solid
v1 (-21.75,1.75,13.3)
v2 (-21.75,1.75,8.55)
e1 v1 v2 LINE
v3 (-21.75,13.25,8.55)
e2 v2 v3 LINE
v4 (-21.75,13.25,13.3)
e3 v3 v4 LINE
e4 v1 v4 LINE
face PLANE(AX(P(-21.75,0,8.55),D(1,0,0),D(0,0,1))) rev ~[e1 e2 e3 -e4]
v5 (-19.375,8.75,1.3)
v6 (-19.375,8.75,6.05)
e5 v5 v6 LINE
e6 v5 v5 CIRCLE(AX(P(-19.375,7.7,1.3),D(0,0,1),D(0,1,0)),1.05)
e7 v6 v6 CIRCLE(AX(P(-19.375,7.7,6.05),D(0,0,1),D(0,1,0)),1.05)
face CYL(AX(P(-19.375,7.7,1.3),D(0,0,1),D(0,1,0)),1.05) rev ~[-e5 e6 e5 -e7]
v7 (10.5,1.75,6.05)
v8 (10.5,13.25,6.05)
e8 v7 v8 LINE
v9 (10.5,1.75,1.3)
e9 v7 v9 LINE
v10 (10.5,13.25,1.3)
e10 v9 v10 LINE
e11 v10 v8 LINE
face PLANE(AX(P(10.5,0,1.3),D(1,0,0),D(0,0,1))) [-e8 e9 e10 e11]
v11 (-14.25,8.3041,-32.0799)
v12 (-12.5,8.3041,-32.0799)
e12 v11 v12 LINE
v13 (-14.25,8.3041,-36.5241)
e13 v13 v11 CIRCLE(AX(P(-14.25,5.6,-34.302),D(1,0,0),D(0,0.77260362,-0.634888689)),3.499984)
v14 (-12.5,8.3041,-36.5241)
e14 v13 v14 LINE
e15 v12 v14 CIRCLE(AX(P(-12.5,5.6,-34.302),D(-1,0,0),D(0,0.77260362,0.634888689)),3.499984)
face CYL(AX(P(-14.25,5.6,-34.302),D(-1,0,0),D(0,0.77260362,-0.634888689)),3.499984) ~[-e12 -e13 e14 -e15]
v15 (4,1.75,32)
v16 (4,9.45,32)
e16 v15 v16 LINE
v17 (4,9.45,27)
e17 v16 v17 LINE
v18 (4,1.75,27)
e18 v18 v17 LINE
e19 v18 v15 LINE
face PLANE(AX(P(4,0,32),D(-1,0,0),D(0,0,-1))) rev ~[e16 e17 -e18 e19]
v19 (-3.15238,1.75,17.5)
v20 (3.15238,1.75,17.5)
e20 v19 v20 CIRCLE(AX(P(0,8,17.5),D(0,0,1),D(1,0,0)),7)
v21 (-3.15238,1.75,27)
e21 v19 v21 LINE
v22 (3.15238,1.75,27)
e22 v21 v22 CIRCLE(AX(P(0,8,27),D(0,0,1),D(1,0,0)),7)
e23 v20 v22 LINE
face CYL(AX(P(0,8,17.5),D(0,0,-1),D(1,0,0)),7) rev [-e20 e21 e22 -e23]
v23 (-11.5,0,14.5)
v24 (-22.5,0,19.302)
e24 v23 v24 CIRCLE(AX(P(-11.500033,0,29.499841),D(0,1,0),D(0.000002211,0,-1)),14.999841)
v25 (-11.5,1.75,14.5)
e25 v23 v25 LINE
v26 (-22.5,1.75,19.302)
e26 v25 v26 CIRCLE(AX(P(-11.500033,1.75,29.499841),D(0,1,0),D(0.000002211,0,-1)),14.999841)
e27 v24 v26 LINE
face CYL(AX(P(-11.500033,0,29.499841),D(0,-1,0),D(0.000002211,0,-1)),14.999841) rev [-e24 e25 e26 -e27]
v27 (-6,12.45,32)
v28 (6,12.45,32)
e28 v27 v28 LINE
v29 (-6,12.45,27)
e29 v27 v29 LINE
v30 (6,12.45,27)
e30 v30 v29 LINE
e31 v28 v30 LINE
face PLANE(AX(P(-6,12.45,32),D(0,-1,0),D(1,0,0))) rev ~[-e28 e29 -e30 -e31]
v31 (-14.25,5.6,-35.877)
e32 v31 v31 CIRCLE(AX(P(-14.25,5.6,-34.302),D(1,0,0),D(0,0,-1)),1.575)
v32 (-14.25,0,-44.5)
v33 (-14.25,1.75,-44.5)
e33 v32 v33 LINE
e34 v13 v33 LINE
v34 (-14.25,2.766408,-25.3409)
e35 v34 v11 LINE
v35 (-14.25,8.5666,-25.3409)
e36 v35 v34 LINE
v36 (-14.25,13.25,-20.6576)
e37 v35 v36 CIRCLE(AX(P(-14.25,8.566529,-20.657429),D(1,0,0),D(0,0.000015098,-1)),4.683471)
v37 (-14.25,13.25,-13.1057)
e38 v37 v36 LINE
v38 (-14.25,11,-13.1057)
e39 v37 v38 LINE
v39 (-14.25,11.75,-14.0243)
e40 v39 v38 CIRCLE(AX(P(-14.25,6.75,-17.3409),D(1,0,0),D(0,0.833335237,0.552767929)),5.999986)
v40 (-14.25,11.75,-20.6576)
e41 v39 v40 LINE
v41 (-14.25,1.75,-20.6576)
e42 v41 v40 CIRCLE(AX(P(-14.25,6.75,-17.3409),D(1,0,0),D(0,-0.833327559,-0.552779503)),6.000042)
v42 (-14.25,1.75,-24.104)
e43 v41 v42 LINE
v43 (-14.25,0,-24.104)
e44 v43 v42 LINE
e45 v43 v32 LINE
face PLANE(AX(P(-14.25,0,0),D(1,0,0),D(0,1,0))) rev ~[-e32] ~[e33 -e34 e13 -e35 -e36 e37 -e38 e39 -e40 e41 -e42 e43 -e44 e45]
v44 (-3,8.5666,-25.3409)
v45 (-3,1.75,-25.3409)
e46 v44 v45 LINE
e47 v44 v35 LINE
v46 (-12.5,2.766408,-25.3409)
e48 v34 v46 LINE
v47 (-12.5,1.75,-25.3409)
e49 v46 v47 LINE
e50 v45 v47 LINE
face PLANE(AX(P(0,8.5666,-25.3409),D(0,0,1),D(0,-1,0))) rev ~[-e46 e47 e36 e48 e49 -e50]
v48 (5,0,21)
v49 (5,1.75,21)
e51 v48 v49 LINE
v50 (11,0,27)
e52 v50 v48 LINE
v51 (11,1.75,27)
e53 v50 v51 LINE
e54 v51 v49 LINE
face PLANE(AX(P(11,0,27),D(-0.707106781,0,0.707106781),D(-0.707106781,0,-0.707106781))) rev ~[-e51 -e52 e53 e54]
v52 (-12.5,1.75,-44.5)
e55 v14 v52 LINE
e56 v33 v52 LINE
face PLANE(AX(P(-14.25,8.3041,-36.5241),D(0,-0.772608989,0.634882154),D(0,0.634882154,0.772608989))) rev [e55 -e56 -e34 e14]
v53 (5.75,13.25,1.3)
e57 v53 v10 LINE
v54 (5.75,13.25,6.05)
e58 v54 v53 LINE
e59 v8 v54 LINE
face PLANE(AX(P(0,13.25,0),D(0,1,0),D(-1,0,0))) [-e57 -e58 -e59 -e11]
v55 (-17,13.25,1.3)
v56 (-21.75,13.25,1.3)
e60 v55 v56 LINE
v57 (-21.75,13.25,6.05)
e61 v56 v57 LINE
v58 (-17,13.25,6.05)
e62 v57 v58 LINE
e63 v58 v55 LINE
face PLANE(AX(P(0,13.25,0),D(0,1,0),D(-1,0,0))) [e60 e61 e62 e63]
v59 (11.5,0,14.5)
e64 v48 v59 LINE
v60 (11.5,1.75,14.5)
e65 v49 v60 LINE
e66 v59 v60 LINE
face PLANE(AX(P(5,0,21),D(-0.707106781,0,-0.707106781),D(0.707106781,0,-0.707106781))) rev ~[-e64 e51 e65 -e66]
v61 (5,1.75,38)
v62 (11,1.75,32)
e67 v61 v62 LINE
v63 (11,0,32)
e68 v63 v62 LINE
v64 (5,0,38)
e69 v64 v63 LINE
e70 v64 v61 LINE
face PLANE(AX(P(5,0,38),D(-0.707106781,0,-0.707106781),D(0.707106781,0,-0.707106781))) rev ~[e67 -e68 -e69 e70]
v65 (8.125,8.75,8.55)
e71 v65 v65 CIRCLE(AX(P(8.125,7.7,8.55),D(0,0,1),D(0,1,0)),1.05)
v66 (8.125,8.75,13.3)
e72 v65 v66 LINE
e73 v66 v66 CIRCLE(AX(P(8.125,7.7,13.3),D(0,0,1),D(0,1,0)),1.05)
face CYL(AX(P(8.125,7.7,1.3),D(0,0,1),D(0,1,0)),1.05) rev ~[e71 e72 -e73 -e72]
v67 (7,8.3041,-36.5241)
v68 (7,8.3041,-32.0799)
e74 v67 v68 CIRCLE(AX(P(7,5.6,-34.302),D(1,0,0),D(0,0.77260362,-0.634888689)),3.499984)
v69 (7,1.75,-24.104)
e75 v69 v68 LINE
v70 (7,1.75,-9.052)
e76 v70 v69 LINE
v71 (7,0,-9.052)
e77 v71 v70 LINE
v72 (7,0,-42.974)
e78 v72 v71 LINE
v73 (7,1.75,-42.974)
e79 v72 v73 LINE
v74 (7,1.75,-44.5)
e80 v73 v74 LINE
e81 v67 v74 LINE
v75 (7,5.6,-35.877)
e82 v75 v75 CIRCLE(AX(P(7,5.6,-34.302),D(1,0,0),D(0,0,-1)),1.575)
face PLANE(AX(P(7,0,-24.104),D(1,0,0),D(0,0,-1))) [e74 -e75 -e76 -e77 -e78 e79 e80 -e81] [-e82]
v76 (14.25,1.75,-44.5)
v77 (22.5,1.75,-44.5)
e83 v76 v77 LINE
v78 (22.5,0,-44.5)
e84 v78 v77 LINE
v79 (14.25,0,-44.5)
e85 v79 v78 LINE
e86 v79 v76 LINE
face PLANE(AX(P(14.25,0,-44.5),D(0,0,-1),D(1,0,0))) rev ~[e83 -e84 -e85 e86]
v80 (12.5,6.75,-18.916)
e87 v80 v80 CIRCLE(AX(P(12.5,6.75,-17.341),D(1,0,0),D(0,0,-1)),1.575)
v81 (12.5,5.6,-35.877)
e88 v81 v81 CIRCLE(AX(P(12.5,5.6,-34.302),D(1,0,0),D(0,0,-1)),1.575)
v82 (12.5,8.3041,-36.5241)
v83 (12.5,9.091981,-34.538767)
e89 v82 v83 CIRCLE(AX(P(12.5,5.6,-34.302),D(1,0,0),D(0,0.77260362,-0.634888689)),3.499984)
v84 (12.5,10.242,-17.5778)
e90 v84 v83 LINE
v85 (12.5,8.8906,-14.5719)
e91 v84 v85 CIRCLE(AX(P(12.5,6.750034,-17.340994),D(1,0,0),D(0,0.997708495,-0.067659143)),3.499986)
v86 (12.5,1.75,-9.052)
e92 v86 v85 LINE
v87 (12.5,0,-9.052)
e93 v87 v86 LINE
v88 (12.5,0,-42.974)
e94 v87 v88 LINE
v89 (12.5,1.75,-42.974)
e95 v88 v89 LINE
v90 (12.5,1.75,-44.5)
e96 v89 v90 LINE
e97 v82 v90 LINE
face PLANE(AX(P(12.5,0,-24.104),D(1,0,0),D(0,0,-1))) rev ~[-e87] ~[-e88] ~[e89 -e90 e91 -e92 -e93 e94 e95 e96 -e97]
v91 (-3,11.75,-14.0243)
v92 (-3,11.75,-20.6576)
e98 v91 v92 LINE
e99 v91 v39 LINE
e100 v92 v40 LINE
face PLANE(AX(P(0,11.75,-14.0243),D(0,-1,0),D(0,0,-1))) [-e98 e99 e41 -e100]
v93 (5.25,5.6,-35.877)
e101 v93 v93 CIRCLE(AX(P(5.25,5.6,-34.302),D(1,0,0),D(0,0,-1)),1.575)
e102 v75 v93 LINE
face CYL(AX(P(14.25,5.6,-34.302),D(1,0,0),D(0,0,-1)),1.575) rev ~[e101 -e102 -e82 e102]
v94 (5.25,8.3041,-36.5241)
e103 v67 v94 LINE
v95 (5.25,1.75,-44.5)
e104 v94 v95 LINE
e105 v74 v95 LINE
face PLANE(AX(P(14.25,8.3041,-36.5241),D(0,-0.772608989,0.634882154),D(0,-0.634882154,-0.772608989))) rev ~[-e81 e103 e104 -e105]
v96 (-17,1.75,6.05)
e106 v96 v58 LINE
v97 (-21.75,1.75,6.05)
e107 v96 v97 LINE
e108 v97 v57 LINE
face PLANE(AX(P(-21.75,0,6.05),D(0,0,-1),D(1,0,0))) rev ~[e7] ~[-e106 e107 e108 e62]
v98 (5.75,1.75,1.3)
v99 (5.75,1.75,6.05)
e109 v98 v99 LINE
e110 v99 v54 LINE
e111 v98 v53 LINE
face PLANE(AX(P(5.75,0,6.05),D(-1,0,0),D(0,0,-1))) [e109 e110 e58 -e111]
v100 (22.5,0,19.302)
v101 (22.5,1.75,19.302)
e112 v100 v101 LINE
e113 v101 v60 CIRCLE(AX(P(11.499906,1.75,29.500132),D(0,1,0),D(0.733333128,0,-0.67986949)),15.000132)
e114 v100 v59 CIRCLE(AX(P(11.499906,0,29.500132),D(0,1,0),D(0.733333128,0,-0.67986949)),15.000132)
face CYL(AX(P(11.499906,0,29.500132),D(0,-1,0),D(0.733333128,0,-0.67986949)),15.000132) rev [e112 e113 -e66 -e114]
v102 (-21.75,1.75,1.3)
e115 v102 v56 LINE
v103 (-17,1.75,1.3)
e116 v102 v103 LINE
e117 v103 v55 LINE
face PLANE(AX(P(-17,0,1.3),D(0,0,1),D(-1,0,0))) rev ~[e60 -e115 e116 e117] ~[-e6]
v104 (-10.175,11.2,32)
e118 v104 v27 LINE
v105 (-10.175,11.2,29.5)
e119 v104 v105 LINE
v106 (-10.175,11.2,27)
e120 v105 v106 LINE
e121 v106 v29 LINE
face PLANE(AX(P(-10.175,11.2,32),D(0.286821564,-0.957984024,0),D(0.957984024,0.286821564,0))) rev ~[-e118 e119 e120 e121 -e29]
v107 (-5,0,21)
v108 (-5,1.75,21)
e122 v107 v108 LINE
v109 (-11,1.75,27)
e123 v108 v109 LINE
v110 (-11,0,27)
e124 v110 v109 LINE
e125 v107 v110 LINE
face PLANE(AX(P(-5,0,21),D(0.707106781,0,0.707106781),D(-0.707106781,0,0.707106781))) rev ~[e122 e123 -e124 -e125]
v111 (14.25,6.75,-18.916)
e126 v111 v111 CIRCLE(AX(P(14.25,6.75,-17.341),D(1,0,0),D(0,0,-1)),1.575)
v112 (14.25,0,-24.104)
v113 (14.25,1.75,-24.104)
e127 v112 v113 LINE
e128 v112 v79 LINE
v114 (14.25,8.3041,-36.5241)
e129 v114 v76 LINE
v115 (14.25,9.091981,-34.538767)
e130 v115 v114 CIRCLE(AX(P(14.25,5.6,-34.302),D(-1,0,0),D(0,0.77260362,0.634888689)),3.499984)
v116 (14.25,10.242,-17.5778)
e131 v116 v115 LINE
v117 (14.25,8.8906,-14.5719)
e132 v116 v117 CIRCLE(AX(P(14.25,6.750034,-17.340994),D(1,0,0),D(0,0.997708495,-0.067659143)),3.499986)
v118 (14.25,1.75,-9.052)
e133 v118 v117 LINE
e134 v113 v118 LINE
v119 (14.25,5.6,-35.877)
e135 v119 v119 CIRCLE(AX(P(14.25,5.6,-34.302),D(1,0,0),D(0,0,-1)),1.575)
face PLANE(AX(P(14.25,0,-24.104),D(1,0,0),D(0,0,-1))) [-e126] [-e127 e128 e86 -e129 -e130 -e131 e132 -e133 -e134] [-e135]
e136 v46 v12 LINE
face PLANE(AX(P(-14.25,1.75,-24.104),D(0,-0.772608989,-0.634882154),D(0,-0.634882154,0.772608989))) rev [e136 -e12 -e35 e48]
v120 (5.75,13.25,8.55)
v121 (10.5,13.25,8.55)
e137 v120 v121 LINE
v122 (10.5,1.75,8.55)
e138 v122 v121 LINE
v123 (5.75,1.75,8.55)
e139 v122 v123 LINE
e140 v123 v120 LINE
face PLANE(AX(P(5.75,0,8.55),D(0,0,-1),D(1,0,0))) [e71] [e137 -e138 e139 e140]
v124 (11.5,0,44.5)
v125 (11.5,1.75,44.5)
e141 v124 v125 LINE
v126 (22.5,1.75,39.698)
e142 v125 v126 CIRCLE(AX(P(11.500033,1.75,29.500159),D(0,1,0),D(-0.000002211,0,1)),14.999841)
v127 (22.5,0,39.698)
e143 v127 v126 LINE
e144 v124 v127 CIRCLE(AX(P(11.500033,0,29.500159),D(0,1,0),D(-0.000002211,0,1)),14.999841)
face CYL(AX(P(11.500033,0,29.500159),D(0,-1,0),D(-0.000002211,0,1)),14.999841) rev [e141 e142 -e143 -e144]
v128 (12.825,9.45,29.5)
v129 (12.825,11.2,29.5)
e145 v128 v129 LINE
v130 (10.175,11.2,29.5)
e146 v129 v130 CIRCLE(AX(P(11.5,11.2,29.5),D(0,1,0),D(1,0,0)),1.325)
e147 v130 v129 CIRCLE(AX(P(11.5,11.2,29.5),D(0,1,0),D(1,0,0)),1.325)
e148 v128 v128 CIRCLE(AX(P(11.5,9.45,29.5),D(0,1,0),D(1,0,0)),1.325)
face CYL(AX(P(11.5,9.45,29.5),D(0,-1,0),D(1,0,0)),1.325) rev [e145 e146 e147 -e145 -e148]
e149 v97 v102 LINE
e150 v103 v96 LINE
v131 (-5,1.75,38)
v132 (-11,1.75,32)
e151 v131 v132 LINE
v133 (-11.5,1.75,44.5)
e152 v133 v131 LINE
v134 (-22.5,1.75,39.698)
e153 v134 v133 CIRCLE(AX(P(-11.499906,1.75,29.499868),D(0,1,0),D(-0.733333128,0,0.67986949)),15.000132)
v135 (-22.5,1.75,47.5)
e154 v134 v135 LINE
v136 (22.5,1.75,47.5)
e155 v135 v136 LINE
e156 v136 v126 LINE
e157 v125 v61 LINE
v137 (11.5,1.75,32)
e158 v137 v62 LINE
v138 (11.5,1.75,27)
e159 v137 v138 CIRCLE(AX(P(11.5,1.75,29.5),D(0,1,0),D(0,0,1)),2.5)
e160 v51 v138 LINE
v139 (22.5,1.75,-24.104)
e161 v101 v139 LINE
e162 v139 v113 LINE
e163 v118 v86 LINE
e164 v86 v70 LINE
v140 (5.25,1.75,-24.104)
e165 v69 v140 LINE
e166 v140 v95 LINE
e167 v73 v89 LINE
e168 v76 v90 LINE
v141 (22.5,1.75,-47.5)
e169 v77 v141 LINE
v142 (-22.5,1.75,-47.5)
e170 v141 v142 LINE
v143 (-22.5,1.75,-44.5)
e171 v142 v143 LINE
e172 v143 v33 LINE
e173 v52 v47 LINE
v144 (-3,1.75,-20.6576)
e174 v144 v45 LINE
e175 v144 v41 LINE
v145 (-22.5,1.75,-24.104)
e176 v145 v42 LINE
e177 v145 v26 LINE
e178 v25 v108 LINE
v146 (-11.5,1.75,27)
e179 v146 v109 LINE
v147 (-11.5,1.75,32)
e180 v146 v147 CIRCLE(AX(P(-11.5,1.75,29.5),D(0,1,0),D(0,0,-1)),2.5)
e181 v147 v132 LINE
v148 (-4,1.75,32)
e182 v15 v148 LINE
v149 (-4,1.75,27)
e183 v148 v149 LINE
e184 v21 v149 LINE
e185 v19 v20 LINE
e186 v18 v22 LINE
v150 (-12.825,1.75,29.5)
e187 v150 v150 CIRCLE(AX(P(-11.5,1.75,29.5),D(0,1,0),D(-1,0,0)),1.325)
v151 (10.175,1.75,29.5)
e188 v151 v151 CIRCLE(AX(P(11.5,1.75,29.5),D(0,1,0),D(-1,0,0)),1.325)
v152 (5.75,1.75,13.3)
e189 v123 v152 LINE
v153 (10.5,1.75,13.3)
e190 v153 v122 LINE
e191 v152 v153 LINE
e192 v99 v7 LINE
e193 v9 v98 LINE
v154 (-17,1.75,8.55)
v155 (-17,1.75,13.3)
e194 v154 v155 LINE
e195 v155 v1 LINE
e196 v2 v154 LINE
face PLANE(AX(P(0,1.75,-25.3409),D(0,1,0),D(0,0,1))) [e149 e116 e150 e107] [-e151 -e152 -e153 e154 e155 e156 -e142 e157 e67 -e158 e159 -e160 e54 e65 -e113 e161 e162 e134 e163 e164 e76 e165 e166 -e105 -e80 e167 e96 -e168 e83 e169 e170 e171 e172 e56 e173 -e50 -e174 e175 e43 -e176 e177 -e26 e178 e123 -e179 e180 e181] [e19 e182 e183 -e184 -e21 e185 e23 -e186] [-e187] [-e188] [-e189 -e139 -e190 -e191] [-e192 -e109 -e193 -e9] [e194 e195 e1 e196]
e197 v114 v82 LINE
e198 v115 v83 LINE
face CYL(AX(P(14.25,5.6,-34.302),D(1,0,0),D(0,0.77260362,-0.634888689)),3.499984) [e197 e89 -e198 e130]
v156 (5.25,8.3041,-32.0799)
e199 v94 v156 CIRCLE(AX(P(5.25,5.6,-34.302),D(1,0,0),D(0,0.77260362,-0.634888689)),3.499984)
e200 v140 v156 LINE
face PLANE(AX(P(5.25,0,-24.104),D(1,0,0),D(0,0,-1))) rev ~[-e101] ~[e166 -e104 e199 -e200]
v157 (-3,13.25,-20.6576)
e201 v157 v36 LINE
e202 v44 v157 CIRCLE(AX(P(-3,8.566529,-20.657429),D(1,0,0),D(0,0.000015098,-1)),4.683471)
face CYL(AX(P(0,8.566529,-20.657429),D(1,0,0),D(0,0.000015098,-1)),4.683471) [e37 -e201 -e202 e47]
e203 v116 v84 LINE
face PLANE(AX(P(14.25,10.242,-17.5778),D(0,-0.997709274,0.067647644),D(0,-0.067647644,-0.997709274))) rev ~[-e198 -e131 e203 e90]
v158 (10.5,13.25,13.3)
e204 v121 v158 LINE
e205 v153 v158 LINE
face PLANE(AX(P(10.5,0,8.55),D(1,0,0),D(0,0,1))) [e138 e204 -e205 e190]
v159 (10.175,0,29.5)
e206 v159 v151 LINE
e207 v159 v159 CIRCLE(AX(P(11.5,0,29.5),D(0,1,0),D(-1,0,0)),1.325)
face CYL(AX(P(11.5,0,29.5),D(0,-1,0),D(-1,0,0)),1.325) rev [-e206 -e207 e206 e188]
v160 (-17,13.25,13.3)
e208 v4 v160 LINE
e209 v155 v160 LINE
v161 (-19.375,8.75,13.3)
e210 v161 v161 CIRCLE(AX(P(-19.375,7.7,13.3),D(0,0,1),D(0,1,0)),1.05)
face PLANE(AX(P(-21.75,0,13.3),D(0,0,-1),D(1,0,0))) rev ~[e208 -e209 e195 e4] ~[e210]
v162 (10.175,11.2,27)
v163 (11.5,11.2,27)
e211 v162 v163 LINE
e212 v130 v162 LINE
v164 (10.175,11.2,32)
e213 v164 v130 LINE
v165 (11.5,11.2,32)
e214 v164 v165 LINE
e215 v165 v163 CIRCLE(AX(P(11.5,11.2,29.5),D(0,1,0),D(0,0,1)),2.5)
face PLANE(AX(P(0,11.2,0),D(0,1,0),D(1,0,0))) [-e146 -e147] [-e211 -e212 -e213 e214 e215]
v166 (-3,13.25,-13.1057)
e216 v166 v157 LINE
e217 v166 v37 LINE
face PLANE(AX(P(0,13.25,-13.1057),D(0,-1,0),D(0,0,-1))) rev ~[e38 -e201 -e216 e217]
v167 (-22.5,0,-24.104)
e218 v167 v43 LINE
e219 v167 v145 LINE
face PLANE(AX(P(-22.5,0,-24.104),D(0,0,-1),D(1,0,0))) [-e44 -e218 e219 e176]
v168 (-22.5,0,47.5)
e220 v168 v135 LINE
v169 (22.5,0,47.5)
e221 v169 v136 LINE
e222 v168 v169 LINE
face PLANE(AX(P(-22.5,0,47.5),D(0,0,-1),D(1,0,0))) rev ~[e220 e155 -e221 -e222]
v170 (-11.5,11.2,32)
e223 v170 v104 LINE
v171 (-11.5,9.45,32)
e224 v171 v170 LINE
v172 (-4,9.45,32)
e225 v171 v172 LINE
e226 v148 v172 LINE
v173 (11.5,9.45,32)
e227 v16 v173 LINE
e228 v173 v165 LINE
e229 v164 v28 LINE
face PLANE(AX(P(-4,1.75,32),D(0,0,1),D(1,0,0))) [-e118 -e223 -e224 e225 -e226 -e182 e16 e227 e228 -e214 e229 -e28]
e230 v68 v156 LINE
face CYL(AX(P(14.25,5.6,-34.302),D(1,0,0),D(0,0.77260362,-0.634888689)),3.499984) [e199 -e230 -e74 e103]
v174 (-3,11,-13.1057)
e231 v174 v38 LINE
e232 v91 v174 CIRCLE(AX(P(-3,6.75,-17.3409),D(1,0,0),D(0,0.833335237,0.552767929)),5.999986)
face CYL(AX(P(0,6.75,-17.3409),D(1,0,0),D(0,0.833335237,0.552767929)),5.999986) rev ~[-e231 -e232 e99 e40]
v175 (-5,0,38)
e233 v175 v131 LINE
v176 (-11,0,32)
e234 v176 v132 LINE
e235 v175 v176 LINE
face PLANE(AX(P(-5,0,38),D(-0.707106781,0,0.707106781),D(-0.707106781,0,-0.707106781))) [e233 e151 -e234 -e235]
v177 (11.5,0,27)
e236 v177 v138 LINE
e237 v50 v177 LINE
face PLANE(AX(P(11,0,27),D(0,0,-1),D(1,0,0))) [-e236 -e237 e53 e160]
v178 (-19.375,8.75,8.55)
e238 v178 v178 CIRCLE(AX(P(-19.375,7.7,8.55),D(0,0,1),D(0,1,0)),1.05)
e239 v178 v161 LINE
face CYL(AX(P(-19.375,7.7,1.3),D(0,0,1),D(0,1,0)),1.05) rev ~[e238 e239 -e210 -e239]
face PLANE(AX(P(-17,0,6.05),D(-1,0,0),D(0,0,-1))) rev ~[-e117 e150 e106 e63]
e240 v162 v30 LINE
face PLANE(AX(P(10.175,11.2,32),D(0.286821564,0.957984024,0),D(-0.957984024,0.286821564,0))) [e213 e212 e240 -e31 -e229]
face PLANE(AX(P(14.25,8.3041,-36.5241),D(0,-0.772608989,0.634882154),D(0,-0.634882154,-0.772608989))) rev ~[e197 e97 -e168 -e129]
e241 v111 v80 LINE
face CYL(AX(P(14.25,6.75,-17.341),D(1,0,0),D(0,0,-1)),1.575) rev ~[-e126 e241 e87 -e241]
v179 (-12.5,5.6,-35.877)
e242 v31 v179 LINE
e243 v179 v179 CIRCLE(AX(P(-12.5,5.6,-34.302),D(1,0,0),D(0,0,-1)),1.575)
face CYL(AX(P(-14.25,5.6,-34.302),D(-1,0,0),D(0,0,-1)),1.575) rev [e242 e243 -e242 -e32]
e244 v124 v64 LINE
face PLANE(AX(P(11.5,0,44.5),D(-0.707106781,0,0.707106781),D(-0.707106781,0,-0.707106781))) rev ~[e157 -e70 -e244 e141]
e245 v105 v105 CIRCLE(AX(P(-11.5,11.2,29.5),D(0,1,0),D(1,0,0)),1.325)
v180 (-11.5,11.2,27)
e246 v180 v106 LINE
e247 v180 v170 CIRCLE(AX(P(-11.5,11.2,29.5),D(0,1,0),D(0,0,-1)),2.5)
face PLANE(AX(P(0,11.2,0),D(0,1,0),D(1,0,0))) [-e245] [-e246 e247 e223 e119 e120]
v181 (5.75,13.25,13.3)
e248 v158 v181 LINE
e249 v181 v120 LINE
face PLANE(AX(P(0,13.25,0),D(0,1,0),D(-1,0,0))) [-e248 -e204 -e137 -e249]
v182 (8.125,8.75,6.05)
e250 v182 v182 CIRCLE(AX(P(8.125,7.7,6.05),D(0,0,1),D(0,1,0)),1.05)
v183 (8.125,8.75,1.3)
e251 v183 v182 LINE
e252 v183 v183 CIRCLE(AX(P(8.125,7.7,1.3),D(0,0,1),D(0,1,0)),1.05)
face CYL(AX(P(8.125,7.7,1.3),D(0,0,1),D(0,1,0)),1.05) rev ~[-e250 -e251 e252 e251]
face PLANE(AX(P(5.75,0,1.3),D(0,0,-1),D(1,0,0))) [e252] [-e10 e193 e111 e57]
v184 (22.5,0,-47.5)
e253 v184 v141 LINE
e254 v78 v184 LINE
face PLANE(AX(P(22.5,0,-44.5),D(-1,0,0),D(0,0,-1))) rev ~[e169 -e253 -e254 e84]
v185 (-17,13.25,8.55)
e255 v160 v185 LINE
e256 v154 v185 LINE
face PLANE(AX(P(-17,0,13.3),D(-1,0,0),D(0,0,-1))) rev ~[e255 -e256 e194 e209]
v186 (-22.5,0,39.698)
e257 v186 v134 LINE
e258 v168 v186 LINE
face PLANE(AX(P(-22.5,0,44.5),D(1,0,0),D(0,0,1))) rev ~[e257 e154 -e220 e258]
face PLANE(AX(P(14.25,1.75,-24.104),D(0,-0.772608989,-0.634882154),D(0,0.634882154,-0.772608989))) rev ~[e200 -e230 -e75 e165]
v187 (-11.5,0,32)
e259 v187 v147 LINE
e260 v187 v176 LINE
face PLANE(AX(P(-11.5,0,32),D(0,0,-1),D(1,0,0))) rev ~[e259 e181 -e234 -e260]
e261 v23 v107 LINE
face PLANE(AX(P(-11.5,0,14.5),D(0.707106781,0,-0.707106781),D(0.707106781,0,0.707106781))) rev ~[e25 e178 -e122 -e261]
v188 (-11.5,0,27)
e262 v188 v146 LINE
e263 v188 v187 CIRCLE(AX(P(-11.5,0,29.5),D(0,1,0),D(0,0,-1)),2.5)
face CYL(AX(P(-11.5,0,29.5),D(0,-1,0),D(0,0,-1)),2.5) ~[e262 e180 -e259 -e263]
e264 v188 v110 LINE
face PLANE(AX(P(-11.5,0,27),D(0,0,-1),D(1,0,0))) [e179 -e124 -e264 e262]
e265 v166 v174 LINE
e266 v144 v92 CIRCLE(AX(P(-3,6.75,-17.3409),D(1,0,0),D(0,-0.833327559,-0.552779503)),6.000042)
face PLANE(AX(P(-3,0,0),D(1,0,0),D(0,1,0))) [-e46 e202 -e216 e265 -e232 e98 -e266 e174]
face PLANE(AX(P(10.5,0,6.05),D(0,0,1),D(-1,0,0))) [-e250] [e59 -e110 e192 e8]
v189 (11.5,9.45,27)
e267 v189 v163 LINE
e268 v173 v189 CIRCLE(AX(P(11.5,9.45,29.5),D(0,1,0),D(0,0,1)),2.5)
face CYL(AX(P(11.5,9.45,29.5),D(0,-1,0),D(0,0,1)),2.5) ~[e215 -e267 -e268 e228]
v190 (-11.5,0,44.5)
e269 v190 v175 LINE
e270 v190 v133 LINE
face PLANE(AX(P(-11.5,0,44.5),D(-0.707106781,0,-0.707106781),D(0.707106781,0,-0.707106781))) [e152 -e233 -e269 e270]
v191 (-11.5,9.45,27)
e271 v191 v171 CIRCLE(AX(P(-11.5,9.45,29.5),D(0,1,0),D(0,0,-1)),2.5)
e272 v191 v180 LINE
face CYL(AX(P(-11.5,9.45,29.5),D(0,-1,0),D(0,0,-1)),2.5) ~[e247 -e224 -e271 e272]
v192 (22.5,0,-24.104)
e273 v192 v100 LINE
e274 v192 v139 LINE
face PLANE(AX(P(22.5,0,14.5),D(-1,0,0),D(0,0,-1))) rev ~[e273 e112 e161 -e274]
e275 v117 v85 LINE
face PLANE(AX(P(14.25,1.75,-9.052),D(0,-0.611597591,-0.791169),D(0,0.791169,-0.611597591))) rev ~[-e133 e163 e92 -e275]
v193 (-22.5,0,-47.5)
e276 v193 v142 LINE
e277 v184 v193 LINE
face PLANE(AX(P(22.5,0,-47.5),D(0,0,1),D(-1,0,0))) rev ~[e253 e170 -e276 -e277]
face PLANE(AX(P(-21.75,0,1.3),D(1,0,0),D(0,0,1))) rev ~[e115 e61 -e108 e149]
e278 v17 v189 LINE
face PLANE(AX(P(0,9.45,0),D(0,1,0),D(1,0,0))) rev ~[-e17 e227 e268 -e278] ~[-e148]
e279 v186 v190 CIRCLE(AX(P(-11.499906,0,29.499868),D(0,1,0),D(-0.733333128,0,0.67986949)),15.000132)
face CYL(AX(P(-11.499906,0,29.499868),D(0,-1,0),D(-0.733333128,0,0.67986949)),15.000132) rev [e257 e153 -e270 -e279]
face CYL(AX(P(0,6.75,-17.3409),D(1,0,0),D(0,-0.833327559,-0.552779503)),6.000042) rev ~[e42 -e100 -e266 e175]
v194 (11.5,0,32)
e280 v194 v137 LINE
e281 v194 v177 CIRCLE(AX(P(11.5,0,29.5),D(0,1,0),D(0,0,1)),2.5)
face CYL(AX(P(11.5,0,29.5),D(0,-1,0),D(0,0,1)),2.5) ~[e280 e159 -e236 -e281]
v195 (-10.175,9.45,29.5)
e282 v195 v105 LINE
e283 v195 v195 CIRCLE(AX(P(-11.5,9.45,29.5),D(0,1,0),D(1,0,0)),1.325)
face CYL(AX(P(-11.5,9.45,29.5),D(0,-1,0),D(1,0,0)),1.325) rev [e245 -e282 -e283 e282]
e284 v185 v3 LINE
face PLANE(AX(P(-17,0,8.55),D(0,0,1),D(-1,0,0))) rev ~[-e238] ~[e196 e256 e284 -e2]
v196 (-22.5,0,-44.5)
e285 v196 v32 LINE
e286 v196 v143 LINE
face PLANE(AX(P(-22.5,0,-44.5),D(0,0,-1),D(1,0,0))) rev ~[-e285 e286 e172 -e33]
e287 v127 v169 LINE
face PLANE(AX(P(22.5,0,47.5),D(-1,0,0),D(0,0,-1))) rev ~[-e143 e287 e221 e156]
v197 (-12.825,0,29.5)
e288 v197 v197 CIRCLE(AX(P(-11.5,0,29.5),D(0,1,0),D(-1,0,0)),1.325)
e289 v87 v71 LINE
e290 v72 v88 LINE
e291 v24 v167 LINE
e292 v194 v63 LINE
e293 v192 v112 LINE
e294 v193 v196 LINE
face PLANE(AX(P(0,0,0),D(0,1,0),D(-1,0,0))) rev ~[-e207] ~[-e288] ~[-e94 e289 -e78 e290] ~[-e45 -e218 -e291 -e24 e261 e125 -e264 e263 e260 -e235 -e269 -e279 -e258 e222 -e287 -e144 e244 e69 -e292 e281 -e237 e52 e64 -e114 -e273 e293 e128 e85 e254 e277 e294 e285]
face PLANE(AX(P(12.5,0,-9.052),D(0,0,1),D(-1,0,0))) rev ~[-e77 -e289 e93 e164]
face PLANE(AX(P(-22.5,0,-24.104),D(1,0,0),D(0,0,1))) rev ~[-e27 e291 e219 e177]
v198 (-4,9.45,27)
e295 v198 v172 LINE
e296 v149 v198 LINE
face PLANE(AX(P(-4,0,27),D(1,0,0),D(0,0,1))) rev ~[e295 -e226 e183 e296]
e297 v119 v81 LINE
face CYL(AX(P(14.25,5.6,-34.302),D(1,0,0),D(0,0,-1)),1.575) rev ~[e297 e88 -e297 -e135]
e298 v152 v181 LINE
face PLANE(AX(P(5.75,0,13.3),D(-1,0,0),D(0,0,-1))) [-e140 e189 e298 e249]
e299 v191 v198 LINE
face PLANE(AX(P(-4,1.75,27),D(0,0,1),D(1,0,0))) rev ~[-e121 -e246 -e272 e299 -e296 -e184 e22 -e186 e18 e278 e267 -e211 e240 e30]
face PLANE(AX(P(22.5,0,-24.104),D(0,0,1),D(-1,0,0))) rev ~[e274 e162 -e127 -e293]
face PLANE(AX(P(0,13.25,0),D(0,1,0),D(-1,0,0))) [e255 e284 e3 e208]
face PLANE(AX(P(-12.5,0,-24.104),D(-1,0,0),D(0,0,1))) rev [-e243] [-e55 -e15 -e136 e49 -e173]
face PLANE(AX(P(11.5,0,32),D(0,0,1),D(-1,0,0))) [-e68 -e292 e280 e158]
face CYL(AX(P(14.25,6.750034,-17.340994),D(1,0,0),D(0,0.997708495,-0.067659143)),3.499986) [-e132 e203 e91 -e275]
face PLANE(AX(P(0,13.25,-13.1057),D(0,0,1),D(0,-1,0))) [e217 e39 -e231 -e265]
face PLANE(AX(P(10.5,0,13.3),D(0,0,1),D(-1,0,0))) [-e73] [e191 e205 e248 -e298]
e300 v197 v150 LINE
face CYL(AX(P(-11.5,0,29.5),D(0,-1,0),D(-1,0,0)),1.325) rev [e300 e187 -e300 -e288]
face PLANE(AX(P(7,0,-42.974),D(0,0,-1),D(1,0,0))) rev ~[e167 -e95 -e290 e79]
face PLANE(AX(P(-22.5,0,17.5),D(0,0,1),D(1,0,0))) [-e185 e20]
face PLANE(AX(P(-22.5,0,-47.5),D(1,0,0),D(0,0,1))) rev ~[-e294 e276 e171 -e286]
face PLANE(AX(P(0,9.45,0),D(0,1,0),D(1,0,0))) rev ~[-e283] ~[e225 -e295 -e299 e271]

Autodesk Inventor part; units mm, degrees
ref_plane "YZ Plane" through (0, 0, 0) normal (1, 0, 0) x (0, 1, 0)
ref_plane "XZ Plane" through (0, 0, 0) normal (0, 1, 0) x (-1, 0, 0)
sketch "Эскиз1" plane through (0, 0, 0) normal (0, 1, 0) x (-1, 0, 0)
  line L0 (-22.5, -47.5) -> (22.5, -47.5)
  line L1 (22.5, -47.5) -> (22.5, 14.5)
  line L2 (22.5, 47.5) -> (-22.5, 47.5)
  line L3 (-22.5, 47.5) -> (-22.5, 44.5)
  line L4 (-22.5, -47.5) -> (22.5, 47.5) construction
  line L5 (22.5, -47.5) -> (-22.5, 47.5) construction
  line L6 (22.5, 29.5) -> (-22.5, 29.5) construction
  line L7 (-22.5, 44.5) -> (-22.5, 14.5)
  line L8 (-22.5, 14.5) -> (-22.5, -47.5)
  line L9 (22.5, 14.5) -> (22.5, 44.5)
  line L10 (22.5, 44.5) -> (22.5, 47.5)
  circle A0 centre (11.5, 29.5) radius 1.325
  line L11 (22.5, 44.5) -> (5, 44.5)
  line L12 (-22.5, 44.5) -> (-5, 44.5)
  arc A1 (11.5, 27) -> (11.5, 32) centre (11.5, 29.5) ccw
  line L13 (11.5, 32) -> (5, 32)
  circle A2 centre (-11.5, 29.5) radius 1.325
  arc A3 (-11.5, 32) -> (-11.5, 27) centre (-11.5, 29.5) ccw
  line L14 (-11.5, 32) -> (-5, 32)
  line L15 (11.5, 27) -> (-11.5, 27)
  line L16 (22.5, 14.5) -> (-22.5, 14.5)
  line L17 (5, 32) -> (5, 44.5)
  line L18 (-5, 32) -> (-5, 44.5)
  line L19 (-11.5, 44.5) -> (-5, 38)
  line L20 (-11.5, 44.5) -> (-2.3076, 44.5) construction
  line L21 (11.5, 44.5) -> (5, 38)
  line L22 (11.5, 44.5) -> (20.6924, 44.5) construction
  line L23 (5, 38) -> (11, 32)
  line L24 (-5, 38) -> (-11, 32)
  arc A4 (-11.5, 44.5) -> (-22.5, 39.698) centre (-11.5, 29.5) ccw
  arc A5 (22.5, 39.698) -> (11.5, 44.5) centre (11.5, 29.5) ccw
  arc A6 (-22.5, 19.302) -> (-11.5, 14.5) centre (-11.5, 29.5) ccw
  arc A7 (11.5, 14.5) -> (22.5, 19.302) centre (11.5, 29.5) ccw
  line L25 (-11.5, 44.5) -> (-11.5, 14.5) construction
  line L26 (11.5, 44.5) -> (11.5, 14.5) construction
  line L27 (-11, 27) -> (-5, 21)
  line L28 (-11, 27) -> (-2.5147, 27) construction
  line L29 (-5, 21) -> (-11.5, 14.5)
  line L30 (11.5, 14.5) -> (5, 21)
  line L31 (11.5, 14.5) -> (20.6924, 14.5) construction
  line L32 (5, 21) -> (11, 27)
  line L33 (-5.75, 8.55) -> (-10.5, 8.55)
  line L34 (-10.5, 8.55) -> (-10.5, 13.3)
  line L35 (-10.5, 13.3) -> (-5.75, 13.3)
  line L36 (-5.75, 13.3) -> (-5.75, 8.55)
  line L37 (17, 8.55) -> (21.75, 8.55)
  line L38 (21.75, 8.55) -> (21.75, 13.3)
  line L39 (21.75, 13.3) -> (17, 13.3)
  line L40 (17, 13.3) -> (17, 8.55)
  line L41 (-5.75, 1.3) -> (-10.5, 1.3)
  line L42 (-10.5, 1.3) -> (-10.5, 6.05)
  line L43 (-10.5, 6.05) -> (-5.75, 6.05)
  line L44 (-5.75, 6.05) -> (-5.75, 1.3)
  line L45 (17, 1.3) -> (21.75, 1.3)
  line L46 (21.75, 1.3) -> (21.75, 6.05)
  line L47 (21.75, 6.05) -> (17, 6.05)
  line L48 (17, 6.05) -> (17, 1.3)
  line L49 (22.5, -44.5) -> (-22.5, -44.5)
  line L50 (-22.5, -24.104) -> (-14.25, -24.104)
  line L51 (-14.25, -24.104) -> (-14.25, -44.5)
  line L52 (22.5, -24.104) -> (14.25, -24.104)
  line L53 (14.25, -24.104) -> (14.25, -44.5)
  line L54 (-12.5, -25.63) -> (-7, -25.63)
  line L55 (-7, -25.63) -> (-7, -42.974)
  line L56 (-7, -42.974) -> (-12.5, -42.974)
  line L57 (-12.5, -42.974) -> (-12.5, -25.63)
  line L58 (-12.5, -34.302) -> (-14.25, -34.302) construction
  line L59 (-4, 27) -> (4, 27)
  line L60 (4, 27) -> (4, 32)
  line L61 (4, 32) -> (-4, 32)
  line L62 (-4, 32) -> (-4, 27)
  line L63 (-4, 27) -> (4, 32) construction
  line L64 (4, 27) -> (-4, 32) construction
  line L65 (-7, -25.63) -> (-12.5, -25.63)
  line L66 (-12.5, -25.63) -> (-12.5, -9.052)
  line L67 (-12.5, -9.052) -> (-7, -9.052)
  line L68 (-7, -9.052) -> (-7, -25.63)
  point P0 (0, 0)
  point P1 (13.75, 44.5)
  point P2 (-12.5, -44.5)
  point P3 (0, 29.5)
  point P4 (-4, 27)
  point P5 (4, 27)
  point P6 (-7, -17.341)
  dimension "d0" = 45
  dimension "d6" = 3
  dimension "d7" = 2.65
  dimension "d8" = 11
  dimension "d14" = 2.65
  dimension "d15" = 11
  dimension "d16" = 2.5
  dimension "d19" = 10
  dimension "d20" = 12.5
  dimension "d22" = 95
  dimension "d23" = 12.5
  dimension "d25" = 23
  dimension "d26" = 45
  dimension "d27" = 135
  dimension "d29" = 23
  dimension "d30" = 45
  dimension "d31" = 135
  dimension "d37" = 0.5
  dimension "d38" = 32.25
  dimension "d39" = 22.75
  dimension "d40" = 4.75
  dimension "d42" = 5.95
  dimension "d43" = 32.25
  dimension "d44" = 22.75
  dimension "d45" = 4.75
  dimension "d46" = 2.5
  dimension "d60" = 20.3961
  dimension "d61" = 3
  dimension "d62" = 20.396
  dimension "d63" = 8.25
  dimension "d71" = 1.75
  dimension "d72" = 5.5
  dimension "d73" = 17.344
  dimension "d120" = 8
  dimension "d129" = 5.5
  dimension "d130" = 0
  dimension "d131" = 6.763
extrude "Выдавливание1" add sketch "Эскиз1" along normal blind 1.75 contours L8 L49 L1 L0 | L8 L16 L1 L52 L53 L49 L51 L50 | L7 A6 L16 | L16 A7 L9 | L29 L27 L15 L32 L30 L16 | L7 L12 A4 | A5 L11 L9 | L3 L2 L10 L11 L17 L13 A1 L15 L60 L61 L62 A3 L14 L18 L12 | L12 L18 L19 | L21 L17 L11 | L18 L14 L24 | L62 L61 L60 L15 | L23 L13 L17 | L33 L34 L35 L36 | L40 L39 L38 L37 | L41 L42 L43 L44 | L48 L47 L46 L45
extrude "Выдавливание3" add sketch "Эскиз1" along normal blind 13.25 contours L33 L34 L35 L36 | L40 L39 L38 L37 | L41 L42 L43 L44 | L48 L47 L46 L45
sketch "Эскиз3" plane through (10.5, 1.75, 1.3) normal (0, 0, -1) x (-1, 0, 0)
  line L0 (-12, 0) -> (33, 0) projected
  line L1 (0, 0) -> (0, 11.5) projected
  point P0 (10.5, -1.75)
  point P1 (2.375, 5.95)
  point P2 (29.875, 5.95)
  dimension "d49" = 27.5
  dimension "d50" = 5.95
  dimension "d51" = 2.375
  dimension "d52" = 5.95
hole "Отверстие1" at (8.125, 7.7, 1.3) at (-19.375, 7.7, 1.3) direction (0, 0, 1) diameter 2.1 end through all
sketch "Эскиз4" plane through (14.25, 0, -24.104) normal (1, 0, 0) x (0, 0, -1)
  line L0 (0, 1.75) -> (20.396, 1.75) projected
  circle A0 centre (10.198, 5.6) radius 1.575
  line L1 (10.198, 5.6) -> (10.198, 1.75) construction
  arc A1 (12.4201, 8.3041) -> (7.9759, 8.3041) centre (10.198, 5.6) ccw
  line L2 (0, 1.75) -> (7.9759, 8.3041)
  line L3 (12.4201, 8.3041) -> (20.396, 1.75)
  line L4 (18.87, 1.75) -> (-15.052, 1.75) projected
  circle A2 centre (-6.763, 6.75) radius 1.575
  line L5 (0, 0) -> (0, 1.75) projected
  arc A3 (-6.5262, 10.242) -> (-9.5321, 8.8906) centre (-6.763, 6.75) ccw
  line L6 (-15.052, 1.75) -> (-9.5321, 8.8906)
  line L7 (-6.5262, 10.242) -> (12.9523, 8.9213)
  point P0 (-24.104, 0)
  point P1 (10.4348, 9.092)
  dimension "d64" = 3.15
  dimension "d65" = 3.85
  dimension "d66" = 3.5
  dimension "d132" = 3.15
  dimension "d133" = 6.763
  dimension "d134" = 5
  dimension "d135" = 3.5
extrude "Выдавливание12" add sketch "Эскиз1" along normal blind 9.45 contours L62 L61 L60 L15
ref_plane "РабПлоскость4" through (-22.5, 0, 17.5) normal (0, 0, 1) x (1, 0, 0)
sketch "Эскиз7" plane through (-22.5, 0, 17.5) normal (0, 0, 1) x (1, 0, 0)
  circle A0 centre (22.5, 8) radius 7
  line L0 (0, 1.75) -> (45, 1.75) projected
  line L1 (22.5, 1.75) -> (22.5, 8) construction
  point P0 (22.5, 0)
  point P1 (25.6524, 1.75)
  point P2 (19.3476, 1.75)
  dimension "d110" = 14
  dimension "d111" = 6.25
extrude "Выдавливание15" cut sketch "Эскиз7" along normal blind 9.5 contours L0 A0 picked at (21.9599, 1.5634)
sketch "Эскиз8" plane through (0, 9.45, 0) normal (0, 1, 0) x (1, 0, 0)
  arc A0 (11.5, -32) -> (11.5, -27) centre (11.5, -29.5) ccw projected
  line L0 (-11.5, -27) -> (11.5, -27) projected
  arc A1 (-11.5, -27) -> (-11.5, -32) centre (-11.5, -29.5) ccw projected
  line L1 (-11.5, -32) -> (-11, -32) construction
  line L2 (-11.5, -32) -> (11.5, -32)
  circle A2 centre (-11.5, -29.5) radius 1.325 projected
  circle A3 centre (11.5, -29.5) radius 1.325 projected
  point P0 (0, 0)
extrude "Выдавливание16" add sketch "Эскиз8" along normal blind 1.75
sketch "Эскиз9" plane through (-4, 1.75, 32) normal (0, 0, 1) x (1, 0, 0)
  line L0 (-8.825, 9.45) -> (-6.175, 9.45) projected
  line L1 (14.175, 9.45) -> (16.825, 9.45) projected
  line L2 (-6.175, 9.45) -> (-2, 10.7)
  line L3 (14.175, 9.45) -> (10, 10.7)
  line L4 (-7.5, 9.45) -> (15.5, 9.45) projected
  line L5 (-2, 10.7) -> (2, 10.7)
  line L6 (6, 10.7) -> (10, 10.7)
  line L7 (0, 7.7) -> (-7.5, 7.7) projected
  line L8 (0, 10.7) -> (0, 7.7) construction
  line L9 (2, 10.7) -> (6, 10.7)
  point P0 (4, -1.75)
  dimension "d125" = 1.25
  dimension "d126" = 4
extrude "Выдавливание17" add sketch "Эскиз9" against normal blind 5
extrude "Выдавливание18" add sketch "Эскиз4" against normal blind 9 contours L2 A1 L3 L0
extrude "Выдавливание19" cut sketch "Эскиз4" against normal blind 7.25 contours L2 A1 L3 L0
extrude "Выдавливание20" add sketch "Эскиз4" against normal blind 1.75 contours L2 A1 L3 L0
mirror "Зеркальное отражение2" about plane through (0, 0, 0) normal (1, 0, 0) of "Выдавливание20"
extrude "Выдавливание21" add sketch "Эскиз4" against normal blind 1.75 contours L4 L6 A3 L7 A1 L2
sketch "Эскиз11" plane through (0, 0, 0) normal (1, 0, 0) x (0, 1, 0)
  arc A0 (11.75, -14.0243) -> (1.75, -14.0243) centre (6.75, -17.3409) ccw
  line L0 (11.75, -14.0243) -> (11.75, -20.6576)
  line L1 (11.75, -17.3409) -> (1.75, -17.3409) construction
  line L2 (1.75, -14.0243) -> (1.75, -20.6576)
  line L3 (1.75, -9.052) -> (1.75, -24.104) construction
  circle A1 centre (5.6, -34.302) radius 1.575 projected
  line L4 (1.75, 19.302) -> (1.75, -24.104) projected
  line L5 (13.25, -13.1057) -> (13.25, -20.6576)
  arc A2 (1.75, -14.0243) -> (1.75, -20.6576) centre (6.75, -17.3409) ccw construction
  arc A3 (1.75, -20.6576) -> (11.75, -20.6576) centre (6.75, -17.3409) ccw
  line L6 (8.5666, -25.3409) -> (1.75, -25.3409)
  line L7 (0, -44.5) -> (0, -24.104) projected
  line L8 (1.75, -25.3409) -> (1.75, -20.6576)
  arc A4 (8.5666, -25.3409) -> (13.25, -20.6576) centre (8.5666, -20.6576) ccw
  line L9 (11.75, -20.6576) -> (8.5666, -20.6576) construction
  line L10 (13.25, -13.1057) -> (11, -13.1057)
  point P0 (0, 0)
  point P1 (6.75, -23.3409)
  point P2 (1.75, -24.104)
  dimension "d144" = 12
  dimension "d145" = 10
  dimension "d147" = 17
  dimension "d149" = 1.5
  dimension "d150" = 2
  dimension "d152" = 2.25
extrude "Выдавливание22" add sketch "Эскиз11" against normal blind 14.25 contours A0 L10 L5 A4 L6 L8 L4 A3 L0
extrude "Выдавливание23" cut sketch "Эскиз11" against normal blind 3 contours A0 L10 L5 A4 L6 L8 L4 A3 L0
properties part number "Рама"
